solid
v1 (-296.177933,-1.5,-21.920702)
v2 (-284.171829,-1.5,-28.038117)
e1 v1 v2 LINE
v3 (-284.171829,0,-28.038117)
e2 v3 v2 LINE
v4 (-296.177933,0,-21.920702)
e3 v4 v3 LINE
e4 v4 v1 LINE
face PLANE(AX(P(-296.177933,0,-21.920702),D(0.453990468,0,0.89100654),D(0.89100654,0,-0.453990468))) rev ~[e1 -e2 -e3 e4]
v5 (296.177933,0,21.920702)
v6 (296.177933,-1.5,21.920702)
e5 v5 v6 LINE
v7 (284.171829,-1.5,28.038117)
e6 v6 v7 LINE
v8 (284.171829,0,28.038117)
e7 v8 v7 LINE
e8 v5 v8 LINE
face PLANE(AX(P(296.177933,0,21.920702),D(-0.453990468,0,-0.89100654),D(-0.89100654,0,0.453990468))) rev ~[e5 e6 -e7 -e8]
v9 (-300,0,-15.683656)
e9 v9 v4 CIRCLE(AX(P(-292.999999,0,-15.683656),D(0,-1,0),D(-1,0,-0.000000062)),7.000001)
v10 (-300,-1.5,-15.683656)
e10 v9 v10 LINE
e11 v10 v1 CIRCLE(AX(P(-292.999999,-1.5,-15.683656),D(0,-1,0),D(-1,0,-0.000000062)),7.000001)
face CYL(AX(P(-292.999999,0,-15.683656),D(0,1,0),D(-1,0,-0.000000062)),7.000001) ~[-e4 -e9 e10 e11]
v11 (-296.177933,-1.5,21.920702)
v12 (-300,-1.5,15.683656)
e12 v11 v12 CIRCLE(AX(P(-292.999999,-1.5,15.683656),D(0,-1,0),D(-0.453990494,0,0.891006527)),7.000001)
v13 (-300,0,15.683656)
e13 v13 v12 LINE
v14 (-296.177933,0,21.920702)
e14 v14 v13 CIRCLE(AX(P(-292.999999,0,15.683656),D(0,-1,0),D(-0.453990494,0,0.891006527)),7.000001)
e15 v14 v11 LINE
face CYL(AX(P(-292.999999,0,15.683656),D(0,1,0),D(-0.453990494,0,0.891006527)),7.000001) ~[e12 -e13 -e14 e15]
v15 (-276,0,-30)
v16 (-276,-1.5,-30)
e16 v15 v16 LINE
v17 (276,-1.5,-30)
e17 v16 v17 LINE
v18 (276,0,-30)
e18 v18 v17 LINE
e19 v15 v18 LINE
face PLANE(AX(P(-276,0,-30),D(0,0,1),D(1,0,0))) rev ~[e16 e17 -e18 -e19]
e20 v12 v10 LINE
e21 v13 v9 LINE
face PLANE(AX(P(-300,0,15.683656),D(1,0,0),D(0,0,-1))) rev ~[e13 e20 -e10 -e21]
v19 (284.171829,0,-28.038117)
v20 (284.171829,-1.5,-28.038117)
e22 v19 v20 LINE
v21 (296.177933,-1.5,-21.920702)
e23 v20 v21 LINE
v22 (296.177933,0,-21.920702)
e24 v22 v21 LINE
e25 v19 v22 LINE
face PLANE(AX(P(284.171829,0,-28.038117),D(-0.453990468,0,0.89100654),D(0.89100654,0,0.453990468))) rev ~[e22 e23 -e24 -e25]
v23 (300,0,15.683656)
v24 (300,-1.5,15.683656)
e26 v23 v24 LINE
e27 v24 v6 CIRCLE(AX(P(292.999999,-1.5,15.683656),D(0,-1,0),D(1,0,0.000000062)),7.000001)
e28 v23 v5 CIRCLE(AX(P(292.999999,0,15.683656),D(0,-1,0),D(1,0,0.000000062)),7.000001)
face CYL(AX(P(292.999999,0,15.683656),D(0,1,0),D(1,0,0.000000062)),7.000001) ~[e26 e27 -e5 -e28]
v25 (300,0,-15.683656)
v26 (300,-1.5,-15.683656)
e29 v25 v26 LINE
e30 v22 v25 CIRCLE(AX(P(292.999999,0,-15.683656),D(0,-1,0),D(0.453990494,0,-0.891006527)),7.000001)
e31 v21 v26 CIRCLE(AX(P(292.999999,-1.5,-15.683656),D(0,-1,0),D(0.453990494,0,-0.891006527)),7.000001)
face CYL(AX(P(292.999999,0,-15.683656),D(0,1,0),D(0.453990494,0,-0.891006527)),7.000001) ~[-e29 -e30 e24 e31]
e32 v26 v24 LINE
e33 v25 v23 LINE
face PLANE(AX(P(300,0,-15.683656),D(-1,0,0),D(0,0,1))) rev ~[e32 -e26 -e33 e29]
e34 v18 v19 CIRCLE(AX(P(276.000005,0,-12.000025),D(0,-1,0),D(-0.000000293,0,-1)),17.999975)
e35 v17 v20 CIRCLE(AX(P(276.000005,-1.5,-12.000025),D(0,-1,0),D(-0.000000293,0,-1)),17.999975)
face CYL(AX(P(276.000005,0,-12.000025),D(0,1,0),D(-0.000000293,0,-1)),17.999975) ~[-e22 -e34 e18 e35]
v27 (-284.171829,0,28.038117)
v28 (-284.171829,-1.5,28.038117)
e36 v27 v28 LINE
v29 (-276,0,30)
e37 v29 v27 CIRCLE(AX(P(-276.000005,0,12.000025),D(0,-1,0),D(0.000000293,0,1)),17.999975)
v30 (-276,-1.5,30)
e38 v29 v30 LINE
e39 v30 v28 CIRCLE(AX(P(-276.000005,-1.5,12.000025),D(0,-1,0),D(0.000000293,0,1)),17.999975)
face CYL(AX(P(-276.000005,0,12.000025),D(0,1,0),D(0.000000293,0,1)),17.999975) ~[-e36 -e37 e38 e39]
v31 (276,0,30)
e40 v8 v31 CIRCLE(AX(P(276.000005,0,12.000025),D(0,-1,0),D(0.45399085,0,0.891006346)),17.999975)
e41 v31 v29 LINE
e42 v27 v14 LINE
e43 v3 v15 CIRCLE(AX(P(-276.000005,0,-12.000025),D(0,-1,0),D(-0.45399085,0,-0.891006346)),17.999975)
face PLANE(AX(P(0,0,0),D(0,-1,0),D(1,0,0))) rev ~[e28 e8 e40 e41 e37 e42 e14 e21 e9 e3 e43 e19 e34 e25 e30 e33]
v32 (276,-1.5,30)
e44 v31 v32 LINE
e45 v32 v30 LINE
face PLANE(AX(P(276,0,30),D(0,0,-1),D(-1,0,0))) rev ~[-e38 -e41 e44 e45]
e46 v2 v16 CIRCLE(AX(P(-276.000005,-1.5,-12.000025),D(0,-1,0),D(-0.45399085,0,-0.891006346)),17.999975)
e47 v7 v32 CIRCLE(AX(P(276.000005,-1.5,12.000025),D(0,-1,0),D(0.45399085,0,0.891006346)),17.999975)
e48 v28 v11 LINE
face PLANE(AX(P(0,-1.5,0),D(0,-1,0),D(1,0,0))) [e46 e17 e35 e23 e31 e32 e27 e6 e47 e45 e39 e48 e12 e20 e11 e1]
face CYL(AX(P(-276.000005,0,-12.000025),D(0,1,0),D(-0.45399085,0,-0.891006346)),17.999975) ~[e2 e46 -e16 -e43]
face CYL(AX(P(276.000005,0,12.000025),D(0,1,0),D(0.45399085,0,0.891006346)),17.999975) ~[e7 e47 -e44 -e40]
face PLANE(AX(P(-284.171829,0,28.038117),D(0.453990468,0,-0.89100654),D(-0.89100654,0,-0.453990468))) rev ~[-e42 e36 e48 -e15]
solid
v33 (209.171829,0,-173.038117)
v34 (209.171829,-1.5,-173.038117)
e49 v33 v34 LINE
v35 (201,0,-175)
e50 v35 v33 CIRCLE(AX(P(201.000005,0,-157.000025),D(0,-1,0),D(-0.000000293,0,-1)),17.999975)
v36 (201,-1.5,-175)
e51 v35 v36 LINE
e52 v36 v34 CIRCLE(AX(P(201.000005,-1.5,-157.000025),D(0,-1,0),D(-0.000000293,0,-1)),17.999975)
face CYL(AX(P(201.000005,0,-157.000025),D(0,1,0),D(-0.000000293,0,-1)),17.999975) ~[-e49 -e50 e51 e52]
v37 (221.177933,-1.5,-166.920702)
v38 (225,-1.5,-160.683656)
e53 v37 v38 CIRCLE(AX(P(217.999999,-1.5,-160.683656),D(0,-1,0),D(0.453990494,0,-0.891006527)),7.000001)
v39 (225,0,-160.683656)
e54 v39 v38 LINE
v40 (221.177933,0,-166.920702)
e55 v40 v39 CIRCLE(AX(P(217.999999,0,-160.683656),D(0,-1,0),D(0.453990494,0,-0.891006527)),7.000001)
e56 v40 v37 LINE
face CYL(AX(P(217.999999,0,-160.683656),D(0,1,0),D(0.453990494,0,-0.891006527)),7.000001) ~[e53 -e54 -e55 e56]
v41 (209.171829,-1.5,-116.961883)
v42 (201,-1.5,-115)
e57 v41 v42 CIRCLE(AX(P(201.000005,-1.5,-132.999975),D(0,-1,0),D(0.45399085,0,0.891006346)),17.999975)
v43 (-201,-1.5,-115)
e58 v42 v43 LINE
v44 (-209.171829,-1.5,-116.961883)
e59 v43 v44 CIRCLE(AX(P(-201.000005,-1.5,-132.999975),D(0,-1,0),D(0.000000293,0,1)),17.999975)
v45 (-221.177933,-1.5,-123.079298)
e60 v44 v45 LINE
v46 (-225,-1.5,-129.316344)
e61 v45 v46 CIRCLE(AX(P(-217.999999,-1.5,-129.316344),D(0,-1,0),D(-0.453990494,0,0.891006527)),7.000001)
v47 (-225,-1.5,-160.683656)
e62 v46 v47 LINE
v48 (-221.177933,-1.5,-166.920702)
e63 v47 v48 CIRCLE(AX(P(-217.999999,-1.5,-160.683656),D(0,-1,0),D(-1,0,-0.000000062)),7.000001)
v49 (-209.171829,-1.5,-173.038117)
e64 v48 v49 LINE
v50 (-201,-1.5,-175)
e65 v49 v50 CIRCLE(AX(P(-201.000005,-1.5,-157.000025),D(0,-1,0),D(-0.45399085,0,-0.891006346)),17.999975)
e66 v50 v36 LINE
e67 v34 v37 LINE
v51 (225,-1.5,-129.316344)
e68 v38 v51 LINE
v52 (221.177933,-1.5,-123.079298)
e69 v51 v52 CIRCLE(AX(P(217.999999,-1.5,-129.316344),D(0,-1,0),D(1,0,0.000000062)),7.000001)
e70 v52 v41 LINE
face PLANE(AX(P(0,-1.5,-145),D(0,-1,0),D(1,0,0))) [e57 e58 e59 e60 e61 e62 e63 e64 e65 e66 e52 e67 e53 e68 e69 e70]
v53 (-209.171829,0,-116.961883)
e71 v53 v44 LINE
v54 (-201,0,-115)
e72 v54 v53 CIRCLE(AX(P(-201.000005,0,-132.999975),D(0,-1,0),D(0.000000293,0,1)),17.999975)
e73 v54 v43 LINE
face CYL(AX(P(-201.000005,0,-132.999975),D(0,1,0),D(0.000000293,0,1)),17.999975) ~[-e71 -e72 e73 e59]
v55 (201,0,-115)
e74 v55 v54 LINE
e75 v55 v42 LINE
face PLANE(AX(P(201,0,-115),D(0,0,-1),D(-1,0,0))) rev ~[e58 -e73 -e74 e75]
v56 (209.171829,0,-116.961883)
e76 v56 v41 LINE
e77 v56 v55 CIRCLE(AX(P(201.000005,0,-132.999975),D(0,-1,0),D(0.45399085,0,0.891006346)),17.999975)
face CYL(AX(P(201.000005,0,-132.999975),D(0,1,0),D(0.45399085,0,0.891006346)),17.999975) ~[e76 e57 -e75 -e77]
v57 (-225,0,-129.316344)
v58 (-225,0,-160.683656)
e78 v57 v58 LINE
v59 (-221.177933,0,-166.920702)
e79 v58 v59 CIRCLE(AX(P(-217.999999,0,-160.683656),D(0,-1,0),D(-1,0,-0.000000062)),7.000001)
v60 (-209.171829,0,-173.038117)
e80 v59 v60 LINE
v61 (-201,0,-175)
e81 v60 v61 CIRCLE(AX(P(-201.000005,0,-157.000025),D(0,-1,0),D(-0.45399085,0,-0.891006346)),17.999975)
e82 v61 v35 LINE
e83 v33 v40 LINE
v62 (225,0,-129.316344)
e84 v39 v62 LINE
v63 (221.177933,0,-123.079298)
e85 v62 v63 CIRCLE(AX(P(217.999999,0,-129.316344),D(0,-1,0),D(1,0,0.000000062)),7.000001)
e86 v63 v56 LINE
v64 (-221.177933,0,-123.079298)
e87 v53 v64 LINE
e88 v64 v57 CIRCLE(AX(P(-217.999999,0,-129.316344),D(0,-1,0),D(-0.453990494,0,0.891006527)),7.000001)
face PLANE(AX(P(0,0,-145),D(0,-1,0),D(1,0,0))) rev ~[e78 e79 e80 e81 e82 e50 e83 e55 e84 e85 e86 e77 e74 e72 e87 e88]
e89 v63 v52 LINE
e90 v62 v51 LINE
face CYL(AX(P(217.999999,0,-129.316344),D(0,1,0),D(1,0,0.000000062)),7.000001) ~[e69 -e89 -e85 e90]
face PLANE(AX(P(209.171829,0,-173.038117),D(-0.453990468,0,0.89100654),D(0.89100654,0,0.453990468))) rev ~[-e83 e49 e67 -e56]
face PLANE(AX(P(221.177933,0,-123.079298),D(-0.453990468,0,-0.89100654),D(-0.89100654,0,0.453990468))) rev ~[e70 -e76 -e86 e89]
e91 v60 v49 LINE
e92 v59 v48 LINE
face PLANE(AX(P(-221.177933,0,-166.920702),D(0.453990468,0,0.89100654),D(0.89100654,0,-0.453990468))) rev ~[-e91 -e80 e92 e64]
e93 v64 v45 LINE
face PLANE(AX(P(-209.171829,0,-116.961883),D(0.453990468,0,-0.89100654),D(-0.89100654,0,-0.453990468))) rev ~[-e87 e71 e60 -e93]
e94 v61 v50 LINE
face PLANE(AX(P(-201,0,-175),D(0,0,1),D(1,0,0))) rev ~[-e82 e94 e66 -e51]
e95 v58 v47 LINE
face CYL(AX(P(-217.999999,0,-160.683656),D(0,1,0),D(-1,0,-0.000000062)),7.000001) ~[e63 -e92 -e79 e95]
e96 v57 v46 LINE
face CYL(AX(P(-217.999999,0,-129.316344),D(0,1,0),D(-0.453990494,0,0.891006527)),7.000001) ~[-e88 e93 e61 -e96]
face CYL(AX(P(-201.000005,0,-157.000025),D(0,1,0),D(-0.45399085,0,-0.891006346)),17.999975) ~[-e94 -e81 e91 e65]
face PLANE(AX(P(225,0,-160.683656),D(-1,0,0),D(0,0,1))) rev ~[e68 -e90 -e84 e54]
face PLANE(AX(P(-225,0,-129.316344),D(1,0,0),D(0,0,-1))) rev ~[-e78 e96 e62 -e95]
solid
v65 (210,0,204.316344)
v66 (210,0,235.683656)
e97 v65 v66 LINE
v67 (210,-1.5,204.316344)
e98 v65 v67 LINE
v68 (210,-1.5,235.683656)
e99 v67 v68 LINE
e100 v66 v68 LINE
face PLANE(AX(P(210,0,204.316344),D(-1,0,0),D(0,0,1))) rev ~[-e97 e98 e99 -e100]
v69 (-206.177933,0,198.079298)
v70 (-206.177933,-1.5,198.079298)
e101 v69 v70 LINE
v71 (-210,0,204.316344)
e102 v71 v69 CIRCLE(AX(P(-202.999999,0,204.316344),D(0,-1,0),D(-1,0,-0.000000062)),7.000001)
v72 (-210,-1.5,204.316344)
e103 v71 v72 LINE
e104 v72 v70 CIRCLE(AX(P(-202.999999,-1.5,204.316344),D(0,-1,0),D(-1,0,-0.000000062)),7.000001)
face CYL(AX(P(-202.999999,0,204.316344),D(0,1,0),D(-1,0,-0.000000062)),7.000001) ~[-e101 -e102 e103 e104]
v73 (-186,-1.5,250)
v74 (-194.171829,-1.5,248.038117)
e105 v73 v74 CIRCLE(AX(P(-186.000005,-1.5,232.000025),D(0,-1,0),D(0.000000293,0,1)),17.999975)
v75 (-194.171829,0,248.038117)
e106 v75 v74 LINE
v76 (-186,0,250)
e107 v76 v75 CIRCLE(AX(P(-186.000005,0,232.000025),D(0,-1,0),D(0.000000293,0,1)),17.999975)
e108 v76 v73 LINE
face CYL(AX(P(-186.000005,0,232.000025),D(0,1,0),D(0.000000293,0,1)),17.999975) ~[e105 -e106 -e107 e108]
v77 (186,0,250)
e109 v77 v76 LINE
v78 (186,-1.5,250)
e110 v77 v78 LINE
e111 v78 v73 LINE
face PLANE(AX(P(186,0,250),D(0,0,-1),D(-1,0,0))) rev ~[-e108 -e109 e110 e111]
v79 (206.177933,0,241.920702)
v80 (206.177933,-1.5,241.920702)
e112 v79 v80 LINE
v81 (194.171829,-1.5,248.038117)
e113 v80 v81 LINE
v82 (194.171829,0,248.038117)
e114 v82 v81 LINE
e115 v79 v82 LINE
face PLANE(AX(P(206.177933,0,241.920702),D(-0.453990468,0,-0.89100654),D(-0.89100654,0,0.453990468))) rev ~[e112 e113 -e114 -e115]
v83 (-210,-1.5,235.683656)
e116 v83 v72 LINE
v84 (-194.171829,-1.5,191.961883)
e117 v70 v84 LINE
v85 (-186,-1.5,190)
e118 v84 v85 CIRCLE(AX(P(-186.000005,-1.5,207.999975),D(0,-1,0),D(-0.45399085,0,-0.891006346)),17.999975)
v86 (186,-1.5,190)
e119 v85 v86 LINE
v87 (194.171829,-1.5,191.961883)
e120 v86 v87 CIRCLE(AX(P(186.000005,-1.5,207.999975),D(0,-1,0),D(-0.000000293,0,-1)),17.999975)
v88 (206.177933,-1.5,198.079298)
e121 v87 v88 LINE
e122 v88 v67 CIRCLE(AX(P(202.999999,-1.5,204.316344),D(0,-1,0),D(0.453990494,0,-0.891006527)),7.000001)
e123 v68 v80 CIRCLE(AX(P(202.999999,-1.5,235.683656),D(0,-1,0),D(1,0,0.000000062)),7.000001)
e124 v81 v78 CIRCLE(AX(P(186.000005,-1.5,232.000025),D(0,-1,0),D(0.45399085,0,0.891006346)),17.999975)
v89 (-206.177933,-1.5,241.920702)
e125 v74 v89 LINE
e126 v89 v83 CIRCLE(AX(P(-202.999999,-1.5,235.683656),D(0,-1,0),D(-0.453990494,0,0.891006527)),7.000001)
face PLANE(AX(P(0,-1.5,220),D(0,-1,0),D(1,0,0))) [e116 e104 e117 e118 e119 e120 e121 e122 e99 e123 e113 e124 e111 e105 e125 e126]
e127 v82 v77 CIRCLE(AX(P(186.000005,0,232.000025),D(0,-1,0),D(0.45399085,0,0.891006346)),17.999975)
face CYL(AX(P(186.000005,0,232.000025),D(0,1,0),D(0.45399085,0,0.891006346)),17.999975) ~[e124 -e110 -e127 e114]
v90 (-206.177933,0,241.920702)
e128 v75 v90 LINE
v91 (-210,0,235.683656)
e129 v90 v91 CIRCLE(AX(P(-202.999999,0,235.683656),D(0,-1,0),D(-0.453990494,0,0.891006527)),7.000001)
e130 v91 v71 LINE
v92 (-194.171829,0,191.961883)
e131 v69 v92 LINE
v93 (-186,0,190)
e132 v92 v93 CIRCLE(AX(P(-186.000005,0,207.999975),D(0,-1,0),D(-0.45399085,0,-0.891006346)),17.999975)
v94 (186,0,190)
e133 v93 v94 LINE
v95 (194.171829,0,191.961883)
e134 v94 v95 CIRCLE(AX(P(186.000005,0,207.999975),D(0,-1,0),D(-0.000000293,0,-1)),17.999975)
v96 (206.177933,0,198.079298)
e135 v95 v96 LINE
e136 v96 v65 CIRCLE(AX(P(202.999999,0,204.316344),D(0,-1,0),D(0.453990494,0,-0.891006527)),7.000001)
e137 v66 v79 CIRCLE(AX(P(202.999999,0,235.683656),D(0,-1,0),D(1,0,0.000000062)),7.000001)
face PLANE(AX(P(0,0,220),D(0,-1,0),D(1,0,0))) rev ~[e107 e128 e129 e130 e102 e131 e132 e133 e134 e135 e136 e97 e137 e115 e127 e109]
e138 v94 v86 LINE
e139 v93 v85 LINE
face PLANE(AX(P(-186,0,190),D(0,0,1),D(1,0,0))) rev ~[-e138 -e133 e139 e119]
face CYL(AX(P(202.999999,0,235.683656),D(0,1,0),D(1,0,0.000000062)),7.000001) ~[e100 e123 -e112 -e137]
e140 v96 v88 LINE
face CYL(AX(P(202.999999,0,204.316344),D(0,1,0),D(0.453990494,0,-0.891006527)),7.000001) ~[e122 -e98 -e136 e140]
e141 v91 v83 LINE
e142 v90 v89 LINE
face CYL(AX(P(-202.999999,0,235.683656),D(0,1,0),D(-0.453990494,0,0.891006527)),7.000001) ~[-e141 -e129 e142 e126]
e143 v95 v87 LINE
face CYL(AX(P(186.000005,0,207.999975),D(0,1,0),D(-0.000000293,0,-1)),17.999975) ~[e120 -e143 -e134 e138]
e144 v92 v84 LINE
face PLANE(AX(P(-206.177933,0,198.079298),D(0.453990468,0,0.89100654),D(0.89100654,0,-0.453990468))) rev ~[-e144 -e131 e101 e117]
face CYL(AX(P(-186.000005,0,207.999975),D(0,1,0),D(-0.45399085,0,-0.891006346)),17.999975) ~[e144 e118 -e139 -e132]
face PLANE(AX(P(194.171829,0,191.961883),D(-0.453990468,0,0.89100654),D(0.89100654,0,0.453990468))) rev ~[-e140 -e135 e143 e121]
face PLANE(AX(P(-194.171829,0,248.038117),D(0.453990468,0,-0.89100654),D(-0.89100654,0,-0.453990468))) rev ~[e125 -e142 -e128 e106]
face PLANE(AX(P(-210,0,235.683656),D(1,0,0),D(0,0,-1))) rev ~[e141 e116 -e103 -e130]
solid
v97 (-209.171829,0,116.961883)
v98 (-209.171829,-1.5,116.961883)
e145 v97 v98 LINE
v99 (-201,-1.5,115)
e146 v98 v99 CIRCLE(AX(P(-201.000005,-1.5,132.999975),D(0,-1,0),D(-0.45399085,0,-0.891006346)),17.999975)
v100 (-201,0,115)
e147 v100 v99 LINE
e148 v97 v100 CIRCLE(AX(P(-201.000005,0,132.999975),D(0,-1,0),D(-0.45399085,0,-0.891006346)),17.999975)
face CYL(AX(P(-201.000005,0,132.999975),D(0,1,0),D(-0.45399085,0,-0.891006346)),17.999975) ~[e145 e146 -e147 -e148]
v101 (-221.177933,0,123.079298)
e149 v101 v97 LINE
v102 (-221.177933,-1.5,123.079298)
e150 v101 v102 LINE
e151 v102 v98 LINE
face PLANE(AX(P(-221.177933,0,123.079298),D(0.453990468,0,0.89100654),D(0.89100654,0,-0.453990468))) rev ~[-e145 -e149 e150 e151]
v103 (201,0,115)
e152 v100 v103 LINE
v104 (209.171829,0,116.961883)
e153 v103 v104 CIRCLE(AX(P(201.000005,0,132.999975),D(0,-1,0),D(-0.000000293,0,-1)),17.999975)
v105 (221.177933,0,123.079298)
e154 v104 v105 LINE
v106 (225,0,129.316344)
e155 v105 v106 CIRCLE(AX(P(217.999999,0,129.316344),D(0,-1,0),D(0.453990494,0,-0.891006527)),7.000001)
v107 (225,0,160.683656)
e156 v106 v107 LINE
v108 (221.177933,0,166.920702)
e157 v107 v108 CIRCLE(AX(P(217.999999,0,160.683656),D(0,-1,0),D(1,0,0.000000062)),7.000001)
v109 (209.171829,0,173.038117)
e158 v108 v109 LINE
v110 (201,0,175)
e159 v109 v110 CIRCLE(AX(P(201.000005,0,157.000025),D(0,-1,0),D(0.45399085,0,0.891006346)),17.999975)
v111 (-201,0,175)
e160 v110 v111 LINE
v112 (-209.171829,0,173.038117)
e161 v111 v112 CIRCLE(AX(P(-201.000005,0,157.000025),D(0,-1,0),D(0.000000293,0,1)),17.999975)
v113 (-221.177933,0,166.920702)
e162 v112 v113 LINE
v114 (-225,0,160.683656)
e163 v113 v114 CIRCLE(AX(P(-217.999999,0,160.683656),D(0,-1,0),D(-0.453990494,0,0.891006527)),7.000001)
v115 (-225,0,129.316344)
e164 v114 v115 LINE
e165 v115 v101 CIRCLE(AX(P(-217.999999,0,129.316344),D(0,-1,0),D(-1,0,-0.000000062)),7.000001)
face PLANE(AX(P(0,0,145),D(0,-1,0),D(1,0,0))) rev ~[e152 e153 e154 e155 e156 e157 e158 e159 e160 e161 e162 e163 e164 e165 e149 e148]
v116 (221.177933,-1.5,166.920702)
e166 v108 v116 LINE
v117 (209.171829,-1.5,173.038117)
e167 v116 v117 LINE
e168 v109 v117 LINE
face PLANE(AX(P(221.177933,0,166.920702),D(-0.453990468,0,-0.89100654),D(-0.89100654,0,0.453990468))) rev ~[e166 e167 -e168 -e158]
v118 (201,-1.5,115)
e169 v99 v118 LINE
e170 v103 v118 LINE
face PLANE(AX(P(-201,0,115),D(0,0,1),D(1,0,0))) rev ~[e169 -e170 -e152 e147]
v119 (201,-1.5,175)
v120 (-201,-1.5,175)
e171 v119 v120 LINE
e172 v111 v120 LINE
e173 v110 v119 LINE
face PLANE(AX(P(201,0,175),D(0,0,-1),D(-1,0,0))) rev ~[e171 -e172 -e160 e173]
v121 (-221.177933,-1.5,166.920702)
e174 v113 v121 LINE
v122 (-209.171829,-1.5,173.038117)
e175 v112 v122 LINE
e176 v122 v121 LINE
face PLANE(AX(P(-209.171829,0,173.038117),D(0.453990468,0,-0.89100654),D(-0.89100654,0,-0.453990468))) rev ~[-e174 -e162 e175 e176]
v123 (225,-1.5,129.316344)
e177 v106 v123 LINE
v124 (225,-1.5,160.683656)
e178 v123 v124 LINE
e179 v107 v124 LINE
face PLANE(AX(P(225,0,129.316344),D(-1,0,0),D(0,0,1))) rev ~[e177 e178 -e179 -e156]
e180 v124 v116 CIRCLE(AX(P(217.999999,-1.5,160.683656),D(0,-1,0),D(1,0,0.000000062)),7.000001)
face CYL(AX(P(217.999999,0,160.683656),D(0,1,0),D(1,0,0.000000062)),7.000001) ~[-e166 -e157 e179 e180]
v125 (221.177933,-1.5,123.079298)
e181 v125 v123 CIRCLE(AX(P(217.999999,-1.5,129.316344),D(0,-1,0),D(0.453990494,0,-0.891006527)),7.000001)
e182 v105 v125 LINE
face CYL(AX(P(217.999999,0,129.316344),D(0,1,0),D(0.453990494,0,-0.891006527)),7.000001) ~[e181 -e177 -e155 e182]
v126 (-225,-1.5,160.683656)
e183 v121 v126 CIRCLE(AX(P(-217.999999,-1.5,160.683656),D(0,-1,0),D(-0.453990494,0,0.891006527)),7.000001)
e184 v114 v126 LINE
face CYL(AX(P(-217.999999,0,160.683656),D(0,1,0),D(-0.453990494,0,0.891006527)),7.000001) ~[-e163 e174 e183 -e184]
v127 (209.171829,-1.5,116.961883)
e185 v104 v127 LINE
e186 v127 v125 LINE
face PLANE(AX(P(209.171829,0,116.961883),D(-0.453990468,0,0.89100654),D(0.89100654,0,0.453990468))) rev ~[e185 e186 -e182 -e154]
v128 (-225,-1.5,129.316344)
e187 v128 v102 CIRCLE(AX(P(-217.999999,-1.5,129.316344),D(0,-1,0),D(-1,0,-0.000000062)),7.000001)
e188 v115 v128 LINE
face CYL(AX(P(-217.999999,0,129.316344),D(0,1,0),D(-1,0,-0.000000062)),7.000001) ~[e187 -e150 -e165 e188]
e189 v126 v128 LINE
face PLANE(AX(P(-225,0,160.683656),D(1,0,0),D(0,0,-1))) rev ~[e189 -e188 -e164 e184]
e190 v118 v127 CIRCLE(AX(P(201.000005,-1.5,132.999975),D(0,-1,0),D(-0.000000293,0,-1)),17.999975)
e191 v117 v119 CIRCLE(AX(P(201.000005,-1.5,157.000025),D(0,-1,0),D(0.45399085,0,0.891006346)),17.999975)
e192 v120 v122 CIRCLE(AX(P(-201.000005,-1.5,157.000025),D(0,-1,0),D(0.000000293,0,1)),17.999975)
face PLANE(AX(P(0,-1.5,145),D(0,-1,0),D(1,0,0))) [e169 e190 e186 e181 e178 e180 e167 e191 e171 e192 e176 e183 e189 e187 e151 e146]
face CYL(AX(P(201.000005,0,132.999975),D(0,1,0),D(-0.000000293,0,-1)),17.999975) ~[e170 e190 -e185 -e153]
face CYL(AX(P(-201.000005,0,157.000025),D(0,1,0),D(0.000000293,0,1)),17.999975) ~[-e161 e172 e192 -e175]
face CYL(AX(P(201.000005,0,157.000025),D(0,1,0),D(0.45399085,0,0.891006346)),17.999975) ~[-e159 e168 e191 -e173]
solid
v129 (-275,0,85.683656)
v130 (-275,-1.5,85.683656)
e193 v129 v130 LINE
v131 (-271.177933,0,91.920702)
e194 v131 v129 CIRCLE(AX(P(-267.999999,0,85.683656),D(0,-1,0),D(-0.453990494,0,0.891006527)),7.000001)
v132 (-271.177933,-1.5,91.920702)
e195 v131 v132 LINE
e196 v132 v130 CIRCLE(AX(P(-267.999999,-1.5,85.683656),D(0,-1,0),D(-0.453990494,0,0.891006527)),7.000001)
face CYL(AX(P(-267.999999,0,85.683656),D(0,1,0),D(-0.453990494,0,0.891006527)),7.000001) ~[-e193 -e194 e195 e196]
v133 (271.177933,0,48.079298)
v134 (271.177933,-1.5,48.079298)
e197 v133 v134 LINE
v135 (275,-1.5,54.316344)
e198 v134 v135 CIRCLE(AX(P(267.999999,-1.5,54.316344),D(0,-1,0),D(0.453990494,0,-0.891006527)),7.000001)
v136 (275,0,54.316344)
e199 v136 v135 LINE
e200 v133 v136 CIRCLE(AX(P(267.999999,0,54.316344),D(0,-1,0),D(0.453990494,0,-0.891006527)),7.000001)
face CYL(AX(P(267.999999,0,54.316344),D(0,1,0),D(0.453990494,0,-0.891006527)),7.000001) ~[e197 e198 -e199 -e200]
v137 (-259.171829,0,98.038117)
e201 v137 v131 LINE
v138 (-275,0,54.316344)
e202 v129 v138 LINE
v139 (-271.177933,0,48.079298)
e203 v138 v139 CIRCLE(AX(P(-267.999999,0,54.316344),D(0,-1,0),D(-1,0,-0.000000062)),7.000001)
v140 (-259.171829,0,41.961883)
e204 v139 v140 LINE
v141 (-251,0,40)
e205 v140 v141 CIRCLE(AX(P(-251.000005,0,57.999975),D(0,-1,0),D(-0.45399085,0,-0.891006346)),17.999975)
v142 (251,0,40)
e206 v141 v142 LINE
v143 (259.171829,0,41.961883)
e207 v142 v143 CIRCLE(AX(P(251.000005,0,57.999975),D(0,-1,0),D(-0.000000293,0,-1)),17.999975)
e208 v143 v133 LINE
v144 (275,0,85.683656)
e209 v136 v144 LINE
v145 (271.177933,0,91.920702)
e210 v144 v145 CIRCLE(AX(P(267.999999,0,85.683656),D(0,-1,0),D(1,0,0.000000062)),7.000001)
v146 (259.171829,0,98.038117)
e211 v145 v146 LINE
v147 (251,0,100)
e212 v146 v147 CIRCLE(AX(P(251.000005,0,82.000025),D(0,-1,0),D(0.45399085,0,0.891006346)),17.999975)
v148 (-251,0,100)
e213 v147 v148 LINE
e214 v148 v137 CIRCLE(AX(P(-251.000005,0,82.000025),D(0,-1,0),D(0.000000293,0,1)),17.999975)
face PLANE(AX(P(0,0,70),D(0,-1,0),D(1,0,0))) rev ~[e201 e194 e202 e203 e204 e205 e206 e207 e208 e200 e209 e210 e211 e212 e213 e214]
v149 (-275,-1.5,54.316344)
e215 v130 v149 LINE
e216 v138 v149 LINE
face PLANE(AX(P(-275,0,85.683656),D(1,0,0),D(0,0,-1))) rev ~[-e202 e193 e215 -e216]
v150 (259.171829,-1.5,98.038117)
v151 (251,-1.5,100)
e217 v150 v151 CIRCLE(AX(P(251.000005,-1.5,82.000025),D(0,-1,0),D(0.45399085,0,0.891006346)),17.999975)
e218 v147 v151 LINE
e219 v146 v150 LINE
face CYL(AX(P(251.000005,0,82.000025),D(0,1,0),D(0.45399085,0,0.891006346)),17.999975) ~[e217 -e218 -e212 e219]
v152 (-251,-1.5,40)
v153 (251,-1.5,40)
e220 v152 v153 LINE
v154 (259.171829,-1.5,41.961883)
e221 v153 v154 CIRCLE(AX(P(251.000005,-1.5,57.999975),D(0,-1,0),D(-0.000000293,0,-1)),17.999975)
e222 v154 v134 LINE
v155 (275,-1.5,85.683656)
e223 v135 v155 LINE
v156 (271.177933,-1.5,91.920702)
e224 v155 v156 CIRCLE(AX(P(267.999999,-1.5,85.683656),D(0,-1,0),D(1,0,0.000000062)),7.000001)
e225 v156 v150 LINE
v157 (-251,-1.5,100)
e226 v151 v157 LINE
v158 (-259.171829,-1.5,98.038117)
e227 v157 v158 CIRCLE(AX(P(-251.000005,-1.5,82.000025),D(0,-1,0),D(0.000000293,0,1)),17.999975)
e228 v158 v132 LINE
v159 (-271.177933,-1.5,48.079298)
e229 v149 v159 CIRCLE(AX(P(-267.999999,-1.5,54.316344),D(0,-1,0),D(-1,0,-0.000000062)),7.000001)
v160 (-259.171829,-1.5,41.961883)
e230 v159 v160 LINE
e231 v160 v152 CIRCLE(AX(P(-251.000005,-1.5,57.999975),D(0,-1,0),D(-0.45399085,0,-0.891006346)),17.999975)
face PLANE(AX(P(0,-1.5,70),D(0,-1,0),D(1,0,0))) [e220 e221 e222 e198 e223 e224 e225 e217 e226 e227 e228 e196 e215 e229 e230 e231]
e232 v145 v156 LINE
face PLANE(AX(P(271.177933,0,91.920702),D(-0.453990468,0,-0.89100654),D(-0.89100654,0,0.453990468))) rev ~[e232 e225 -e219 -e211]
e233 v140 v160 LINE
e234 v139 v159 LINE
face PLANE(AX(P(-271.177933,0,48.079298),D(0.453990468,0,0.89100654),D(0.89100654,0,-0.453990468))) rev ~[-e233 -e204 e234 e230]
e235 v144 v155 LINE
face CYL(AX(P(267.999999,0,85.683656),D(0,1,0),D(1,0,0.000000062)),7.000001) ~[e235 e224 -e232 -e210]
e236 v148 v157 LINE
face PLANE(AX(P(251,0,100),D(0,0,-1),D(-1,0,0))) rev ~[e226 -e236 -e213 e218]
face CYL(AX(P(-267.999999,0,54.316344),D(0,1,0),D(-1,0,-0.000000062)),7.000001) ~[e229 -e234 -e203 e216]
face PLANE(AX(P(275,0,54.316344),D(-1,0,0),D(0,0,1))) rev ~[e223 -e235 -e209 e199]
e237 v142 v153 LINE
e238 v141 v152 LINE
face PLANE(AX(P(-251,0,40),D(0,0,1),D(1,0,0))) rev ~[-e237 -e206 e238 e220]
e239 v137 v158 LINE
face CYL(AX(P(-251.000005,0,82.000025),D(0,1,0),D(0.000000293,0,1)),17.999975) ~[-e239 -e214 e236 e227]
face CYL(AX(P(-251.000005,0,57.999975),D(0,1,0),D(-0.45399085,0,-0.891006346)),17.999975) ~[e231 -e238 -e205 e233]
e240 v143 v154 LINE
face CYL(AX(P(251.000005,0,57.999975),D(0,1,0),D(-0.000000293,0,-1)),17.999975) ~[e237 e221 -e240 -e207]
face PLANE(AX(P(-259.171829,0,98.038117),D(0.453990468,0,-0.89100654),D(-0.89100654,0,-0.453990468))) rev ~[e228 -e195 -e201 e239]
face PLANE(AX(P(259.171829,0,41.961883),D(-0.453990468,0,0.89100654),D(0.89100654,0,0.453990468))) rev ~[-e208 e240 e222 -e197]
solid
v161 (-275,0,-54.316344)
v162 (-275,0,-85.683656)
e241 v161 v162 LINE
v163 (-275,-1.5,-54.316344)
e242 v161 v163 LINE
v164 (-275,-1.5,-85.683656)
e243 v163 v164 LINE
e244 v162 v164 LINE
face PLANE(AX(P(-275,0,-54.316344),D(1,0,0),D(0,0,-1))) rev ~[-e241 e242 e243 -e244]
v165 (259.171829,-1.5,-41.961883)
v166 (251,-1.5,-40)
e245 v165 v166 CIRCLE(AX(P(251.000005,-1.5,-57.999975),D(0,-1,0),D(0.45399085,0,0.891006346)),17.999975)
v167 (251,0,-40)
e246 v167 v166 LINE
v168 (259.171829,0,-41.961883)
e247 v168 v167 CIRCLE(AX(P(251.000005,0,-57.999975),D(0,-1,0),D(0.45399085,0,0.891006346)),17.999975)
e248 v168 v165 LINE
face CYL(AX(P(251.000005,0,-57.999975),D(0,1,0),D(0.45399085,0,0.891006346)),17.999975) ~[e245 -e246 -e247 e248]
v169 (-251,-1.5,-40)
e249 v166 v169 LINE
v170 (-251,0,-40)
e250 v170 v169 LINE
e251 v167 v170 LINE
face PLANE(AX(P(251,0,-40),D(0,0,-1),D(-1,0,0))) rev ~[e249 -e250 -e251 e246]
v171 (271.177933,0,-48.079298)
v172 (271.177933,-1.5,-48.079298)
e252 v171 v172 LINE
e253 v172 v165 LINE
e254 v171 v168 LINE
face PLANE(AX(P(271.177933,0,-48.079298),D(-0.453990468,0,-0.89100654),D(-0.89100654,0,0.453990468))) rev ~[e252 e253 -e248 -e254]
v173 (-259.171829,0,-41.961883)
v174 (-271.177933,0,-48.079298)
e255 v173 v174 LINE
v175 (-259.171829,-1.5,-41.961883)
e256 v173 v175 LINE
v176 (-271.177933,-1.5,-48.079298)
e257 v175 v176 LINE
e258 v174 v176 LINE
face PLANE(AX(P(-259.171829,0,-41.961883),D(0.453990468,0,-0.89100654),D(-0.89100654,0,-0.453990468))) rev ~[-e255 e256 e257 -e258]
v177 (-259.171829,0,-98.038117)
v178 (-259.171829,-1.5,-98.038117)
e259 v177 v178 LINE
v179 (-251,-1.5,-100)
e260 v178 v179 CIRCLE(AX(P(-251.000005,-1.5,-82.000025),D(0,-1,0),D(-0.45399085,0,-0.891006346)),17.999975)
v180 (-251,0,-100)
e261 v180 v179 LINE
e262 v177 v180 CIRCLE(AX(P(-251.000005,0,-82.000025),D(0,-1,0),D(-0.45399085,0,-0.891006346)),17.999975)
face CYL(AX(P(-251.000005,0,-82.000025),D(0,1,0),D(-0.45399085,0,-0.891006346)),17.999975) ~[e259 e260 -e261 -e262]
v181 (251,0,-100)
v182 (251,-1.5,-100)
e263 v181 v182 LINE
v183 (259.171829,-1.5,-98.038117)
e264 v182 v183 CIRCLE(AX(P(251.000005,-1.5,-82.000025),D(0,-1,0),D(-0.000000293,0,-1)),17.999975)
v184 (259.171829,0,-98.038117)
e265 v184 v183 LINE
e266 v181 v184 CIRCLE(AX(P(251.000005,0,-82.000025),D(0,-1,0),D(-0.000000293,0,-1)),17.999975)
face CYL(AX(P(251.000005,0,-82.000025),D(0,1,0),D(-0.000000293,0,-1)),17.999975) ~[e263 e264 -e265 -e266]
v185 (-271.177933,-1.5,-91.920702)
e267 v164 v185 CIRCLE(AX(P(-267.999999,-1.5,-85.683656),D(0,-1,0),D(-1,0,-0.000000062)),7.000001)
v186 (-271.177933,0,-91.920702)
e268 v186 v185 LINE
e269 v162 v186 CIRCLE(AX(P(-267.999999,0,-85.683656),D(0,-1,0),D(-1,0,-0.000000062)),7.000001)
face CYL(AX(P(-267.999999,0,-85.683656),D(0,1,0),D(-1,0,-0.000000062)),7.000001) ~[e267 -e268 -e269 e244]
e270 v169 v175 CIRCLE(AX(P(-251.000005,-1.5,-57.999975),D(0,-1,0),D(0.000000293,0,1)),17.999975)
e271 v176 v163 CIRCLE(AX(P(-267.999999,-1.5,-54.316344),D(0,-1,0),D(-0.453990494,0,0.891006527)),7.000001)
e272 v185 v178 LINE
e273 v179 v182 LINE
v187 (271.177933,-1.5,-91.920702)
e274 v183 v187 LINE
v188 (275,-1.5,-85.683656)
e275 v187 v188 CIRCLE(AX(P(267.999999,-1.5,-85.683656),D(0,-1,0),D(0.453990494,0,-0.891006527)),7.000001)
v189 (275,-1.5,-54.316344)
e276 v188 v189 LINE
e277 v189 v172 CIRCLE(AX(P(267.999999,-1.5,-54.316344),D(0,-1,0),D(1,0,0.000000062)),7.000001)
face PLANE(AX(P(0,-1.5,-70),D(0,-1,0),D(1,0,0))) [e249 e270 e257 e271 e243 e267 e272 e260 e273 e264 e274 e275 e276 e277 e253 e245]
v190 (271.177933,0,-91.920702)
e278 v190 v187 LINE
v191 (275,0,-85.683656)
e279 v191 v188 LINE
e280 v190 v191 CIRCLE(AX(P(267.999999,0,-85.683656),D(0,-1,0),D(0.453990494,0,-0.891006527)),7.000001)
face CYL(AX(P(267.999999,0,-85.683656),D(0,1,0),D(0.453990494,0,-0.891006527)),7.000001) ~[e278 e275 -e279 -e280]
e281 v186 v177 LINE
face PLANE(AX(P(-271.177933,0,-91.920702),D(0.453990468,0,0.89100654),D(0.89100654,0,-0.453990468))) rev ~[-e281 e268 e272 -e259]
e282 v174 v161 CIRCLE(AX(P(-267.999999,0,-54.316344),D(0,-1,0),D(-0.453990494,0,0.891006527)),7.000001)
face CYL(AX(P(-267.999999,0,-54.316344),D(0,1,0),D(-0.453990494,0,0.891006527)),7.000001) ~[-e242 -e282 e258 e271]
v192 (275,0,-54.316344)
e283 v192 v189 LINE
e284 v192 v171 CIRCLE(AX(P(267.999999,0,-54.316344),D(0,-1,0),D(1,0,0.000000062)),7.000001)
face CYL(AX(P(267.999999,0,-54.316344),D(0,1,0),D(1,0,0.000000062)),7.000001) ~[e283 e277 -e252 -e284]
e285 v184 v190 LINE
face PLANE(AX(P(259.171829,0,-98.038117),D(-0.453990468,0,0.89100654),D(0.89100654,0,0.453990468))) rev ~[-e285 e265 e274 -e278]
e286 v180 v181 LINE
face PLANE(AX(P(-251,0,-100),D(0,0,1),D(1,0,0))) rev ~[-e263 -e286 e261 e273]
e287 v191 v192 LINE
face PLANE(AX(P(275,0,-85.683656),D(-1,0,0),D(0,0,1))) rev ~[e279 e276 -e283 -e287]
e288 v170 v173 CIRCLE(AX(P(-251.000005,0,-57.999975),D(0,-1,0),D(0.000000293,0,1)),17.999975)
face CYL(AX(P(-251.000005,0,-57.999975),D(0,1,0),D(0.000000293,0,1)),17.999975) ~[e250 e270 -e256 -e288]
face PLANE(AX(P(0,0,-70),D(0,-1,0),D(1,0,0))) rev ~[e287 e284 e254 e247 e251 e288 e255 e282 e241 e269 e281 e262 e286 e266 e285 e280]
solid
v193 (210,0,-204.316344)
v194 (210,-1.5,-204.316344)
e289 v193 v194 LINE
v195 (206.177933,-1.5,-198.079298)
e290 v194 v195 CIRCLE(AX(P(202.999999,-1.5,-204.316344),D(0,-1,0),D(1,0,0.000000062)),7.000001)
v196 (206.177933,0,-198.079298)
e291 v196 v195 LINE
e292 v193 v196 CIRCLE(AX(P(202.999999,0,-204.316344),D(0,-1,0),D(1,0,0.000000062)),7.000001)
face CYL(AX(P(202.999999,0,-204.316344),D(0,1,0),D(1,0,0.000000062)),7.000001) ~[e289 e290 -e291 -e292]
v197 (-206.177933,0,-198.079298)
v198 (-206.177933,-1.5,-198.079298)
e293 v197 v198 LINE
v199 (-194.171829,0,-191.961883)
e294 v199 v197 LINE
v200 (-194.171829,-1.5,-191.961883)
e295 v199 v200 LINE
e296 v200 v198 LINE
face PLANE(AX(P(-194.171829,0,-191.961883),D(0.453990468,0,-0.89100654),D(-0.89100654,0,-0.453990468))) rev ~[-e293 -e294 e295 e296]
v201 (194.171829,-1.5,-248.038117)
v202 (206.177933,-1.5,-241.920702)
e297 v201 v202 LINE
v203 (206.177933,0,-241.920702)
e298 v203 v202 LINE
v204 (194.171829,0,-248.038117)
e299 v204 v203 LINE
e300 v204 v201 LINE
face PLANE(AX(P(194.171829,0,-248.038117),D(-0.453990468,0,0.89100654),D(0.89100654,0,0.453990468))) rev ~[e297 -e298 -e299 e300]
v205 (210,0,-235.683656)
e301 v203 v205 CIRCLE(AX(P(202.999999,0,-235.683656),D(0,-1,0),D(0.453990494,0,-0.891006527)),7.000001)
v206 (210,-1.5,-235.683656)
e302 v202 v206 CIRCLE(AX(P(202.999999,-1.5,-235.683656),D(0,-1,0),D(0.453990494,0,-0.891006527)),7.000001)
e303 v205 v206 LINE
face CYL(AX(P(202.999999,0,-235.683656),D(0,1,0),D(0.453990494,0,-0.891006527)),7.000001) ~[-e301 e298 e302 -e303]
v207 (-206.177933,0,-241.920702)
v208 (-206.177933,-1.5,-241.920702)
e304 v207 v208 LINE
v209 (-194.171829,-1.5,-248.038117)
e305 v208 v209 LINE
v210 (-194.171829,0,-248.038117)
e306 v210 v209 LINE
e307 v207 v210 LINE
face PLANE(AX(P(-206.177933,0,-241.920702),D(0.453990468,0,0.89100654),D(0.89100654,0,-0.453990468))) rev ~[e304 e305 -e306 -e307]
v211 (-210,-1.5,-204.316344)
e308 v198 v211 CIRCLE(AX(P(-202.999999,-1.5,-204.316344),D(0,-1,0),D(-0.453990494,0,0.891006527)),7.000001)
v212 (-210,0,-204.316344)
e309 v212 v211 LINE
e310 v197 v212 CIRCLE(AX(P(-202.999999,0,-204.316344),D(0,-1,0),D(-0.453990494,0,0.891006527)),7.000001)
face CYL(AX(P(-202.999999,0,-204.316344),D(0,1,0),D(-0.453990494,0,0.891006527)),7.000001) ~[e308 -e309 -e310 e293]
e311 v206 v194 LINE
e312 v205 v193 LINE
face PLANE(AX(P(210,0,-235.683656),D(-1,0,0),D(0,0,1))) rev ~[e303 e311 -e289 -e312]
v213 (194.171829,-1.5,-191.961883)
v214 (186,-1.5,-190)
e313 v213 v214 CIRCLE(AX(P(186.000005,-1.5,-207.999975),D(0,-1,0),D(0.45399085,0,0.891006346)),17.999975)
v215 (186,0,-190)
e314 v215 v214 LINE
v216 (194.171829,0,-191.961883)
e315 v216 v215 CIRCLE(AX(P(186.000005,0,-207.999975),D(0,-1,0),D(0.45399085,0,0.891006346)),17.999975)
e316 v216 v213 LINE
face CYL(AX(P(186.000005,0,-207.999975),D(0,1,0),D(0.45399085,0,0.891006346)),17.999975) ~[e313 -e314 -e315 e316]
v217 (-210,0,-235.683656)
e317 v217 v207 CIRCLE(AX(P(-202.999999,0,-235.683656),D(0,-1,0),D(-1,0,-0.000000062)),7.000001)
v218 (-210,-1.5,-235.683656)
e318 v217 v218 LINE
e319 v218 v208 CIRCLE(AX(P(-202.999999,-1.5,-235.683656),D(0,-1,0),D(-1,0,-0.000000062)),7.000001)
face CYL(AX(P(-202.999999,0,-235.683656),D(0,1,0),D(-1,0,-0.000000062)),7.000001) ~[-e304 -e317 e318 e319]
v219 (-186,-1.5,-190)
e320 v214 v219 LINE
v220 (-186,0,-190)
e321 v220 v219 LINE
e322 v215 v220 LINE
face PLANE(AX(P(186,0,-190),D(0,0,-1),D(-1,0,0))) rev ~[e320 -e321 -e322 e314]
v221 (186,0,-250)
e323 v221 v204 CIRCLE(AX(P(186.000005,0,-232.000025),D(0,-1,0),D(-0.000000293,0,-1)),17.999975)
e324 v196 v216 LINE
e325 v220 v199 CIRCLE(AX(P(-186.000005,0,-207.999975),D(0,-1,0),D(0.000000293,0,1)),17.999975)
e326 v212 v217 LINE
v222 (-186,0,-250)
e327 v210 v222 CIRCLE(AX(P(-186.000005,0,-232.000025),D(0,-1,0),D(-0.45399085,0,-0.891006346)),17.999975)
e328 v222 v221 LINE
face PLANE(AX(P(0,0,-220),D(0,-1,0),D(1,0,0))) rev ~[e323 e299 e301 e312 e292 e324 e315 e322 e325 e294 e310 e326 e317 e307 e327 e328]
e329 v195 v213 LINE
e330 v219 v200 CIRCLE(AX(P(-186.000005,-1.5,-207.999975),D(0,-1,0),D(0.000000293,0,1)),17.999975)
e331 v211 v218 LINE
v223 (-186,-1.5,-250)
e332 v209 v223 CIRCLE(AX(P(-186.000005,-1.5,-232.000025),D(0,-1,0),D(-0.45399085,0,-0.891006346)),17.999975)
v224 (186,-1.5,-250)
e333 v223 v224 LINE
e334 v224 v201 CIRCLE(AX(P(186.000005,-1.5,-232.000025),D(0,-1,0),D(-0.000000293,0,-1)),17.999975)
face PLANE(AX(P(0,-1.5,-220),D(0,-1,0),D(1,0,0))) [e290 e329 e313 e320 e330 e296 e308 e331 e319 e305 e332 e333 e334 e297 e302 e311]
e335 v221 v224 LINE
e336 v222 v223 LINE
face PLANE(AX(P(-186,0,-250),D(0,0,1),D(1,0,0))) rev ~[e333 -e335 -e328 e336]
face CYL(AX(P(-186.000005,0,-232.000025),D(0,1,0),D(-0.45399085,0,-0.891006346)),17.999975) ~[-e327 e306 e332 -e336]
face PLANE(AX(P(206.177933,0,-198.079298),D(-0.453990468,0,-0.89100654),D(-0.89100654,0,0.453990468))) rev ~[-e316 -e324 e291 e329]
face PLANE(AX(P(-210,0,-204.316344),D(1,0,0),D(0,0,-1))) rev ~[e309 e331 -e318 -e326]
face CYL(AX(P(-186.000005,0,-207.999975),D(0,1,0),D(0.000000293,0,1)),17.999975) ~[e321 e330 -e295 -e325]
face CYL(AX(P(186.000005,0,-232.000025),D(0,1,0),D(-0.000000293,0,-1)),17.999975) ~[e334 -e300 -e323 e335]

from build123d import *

# Parameters (mm, degrees)
F1_DEPTH = 1.5


with BuildPart() as f1:
    # F0 (on Front) → F1 (new body)
    with BuildSketch(Plane.XZ):
        with BuildLine():
            ThreePointArc((-276, 30), (-280.202017, 29.502659), (-284.171829, 28.038117))
            Line((-284.171829, 28.038117), (-296.177933, 21.920702))
            ThreePointArc((-296.177933, 21.920702), (-298.968481, 19.341146), (-300, 15.683656))
            Line((-300, 15.683656), (-300, 0))
            Line((-300, 0), (-300, -15.683656))
            ThreePointArc((-300, -15.683656), (-298.968481, -19.341146), (-296.177933, -21.920702))
            Line((-296.177933, -21.920702), (-284.171829, -28.038117))
            ThreePointArc((-284.171829, -28.038117), (-280.202017, -29.502659), (-276, -30))
            Line((-276, -30), (0, -30))
            Line((0, -30), (276, -30))
            ThreePointArc((276, -30), (280.202017, -29.502659), (284.171829, -28.038117))
            Line((284.171829, -28.038117), (296.177933, -21.920702))
            ThreePointArc((296.177933, -21.920702), (298.968481, -19.341146), (300, -15.683656))
            Line((300, -15.683656), (300, 0))
            Line((300, 0), (300, 15.683656))
            ThreePointArc((300, 15.683656), (298.968481, 19.341146), (296.177933, 21.920702))
            Line((296.177933, 21.920702), (284.171829, 28.038117))
            ThreePointArc((284.171829, 28.038117), (280.202017, 29.502659), (276, 30))
            Line((276, 30), (0, 30))
            Line((0, 30), (-276, 30))
        make_face()
        with BuildLine():
            Line((-259.171829, 98.038117), (-271.177933, 91.920702))
            ThreePointArc((-271.177933, 91.920702), (-273.968481, 89.341146), (-275, 85.683656))
            Line((-275, 85.683656), (-275, 70))
            Line((-275, 70), (-275, 54.316344))
            ThreePointArc((-275, 54.316344), (-273.968481, 50.658854), (-271.177933, 48.079298))
            Line((-271.177933, 48.079298), (-259.171829, 41.961883))
            ThreePointArc((-259.171829, 41.961883), (-255.202017, 40.497341), (-251, 40))
            Line((-251, 40), (0, 40))
            Line((0, 40), (251, 40))
            ThreePointArc((251, 40), (255.202017, 40.497341), (259.171829, 41.961883))
            Line((259.171829, 41.961883), (271.177933, 48.079298))
            ThreePointArc((271.177933, 48.079298), (273.968481, 50.658854), (275, 54.316344))
            Line((275, 54.316344), (275, 70))
            Line((275, 70), (275, 85.683656))
            ThreePointArc((275, 85.683656), (273.968481, 89.341146), (271.177933, 91.920702))
            Line((271.177933, 91.920702), (259.171829, 98.038117))
            ThreePointArc((259.171829, 98.038117), (255.202017, 99.502659), (251, 100))
            Line((251, 100), (0, 100))
            Line((0, 100), (-251, 100))
            ThreePointArc((-251, 100), (-255.202017, 99.502659), (-259.171829, 98.038117))
        make_face()
        with BuildLine():
            ThreePointArc((-225, 129.316344), (-223.968481, 125.658854), (-221.177933, 123.079298))
            Line((-221.177933, 123.079298), (-209.171829, 116.961883))
            ThreePointArc((-209.171829, 116.961883), (-205.202017, 115.497341), (-201, 115))
            Line((-201, 115), (0, 115))
            Line((0, 115), (201, 115))
            ThreePointArc((201, 115), (205.202017, 115.497341), (209.171829, 116.961883))
            Line((209.171829, 116.961883), (221.177933, 123.079298))
            ThreePointArc((221.177933, 123.079298), (223.968481, 125.658854), (225, 129.316344))
            Line((225, 129.316344), (225, 145))
            Line((225, 145), (225, 160.683656))
            ThreePointArc((225, 160.683656), (223.968481, 164.341146), (221.177933, 166.920702))
            Line((221.177933, 166.920702), (209.171829, 173.038117))
            ThreePointArc((209.171829, 173.038117), (205.202017, 174.502659), (201, 175))
            Line((201, 175), (0, 175))
            Line((0, 175), (-201, 175))
            ThreePointArc((-201, 175), (-205.202017, 174.502659), (-209.171829, 173.038117))
            Line((-209.171829, 173.038117), (-221.177933, 166.920702))
            ThreePointArc((-221.177933, 166.920702), (-223.968481, 164.341146), (-225, 160.683656))
            Line((-225, 160.683656), (-225, 145))
            Line((-225, 145), (-225, 129.316344))
        make_face()
        with BuildLine():
            ThreePointArc((-251, -40), (-255.202017, -40.497341), (-259.171829, -41.961883))
            Line((-259.171829, -41.961883), (-271.177933, -48.079298))
            ThreePointArc((-271.177933, -48.079298), (-273.968481, -50.658854), (-275, -54.316344))
            Line((-275, -54.316344), (-275, -70))
            Line((-275, -70), (-275, -85.683656))
            ThreePointArc((-275, -85.683656), (-273.968481, -89.341146), (-271.177933, -91.920702))
            Line((-271.177933, -91.920702), (-259.171829, -98.038117))
            ThreePointArc((-259.171829, -98.038117), (-255.202017, -99.502659), (-251, -100))
            Line((-251, -100), (0, -100))
            Line((0, -100), (251, -100))
            ThreePointArc((251, -100), (255.202017, -99.502659), (259.171829, -98.038117))
            Line((259.171829, -98.038117), (271.177933, -91.920702))
            ThreePointArc((271.177933, -91.920702), (273.968481, -89.341146), (275, -85.683656))
            Line((275, -85.683656), (275, -70))
            Line((275, -70), (275, -54.316344))
            ThreePointArc((275, -54.316344), (273.968481, -50.658854), (271.177933, -48.079298))
            Line((271.177933, -48.079298), (259.171829, -41.961883))
            ThreePointArc((259.171829, -41.961883), (255.202017, -40.497341), (251, -40))
            Line((251, -40), (0, -40))
            Line((0, -40), (-251, -40))
        make_face()
        with BuildLine():
            ThreePointArc((-201, -115), (-205.202017, -115.497341), (-209.171829, -116.961883))
            Line((-209.171829, -116.961883), (-221.177933, -123.079298))
            ThreePointArc((-221.177933, -123.079298), (-223.968481, -125.658854), (-225, -129.316344))
            Line((-225, -129.316344), (-225, -145))
            Line((-225, -145), (-225, -160.683656))
            ThreePointArc((-225, -160.683656), (-223.968481, -164.341146), (-221.177933, -166.920702))
            Line((-221.177933, -166.920702), (-209.171829, -173.038117))
            ThreePointArc((-209.171829, -173.038117), (-205.202017, -174.502659), (-201, -175))
            Line((-201, -175), (0, -175))
            Line((0, -175), (201, -175))
            ThreePointArc((201, -175), (205.202017, -174.502659), (209.171829, -173.038117))
            Line((209.171829, -173.038117), (221.177933, -166.920702))
            ThreePointArc((221.177933, -166.920702), (223.968481, -164.341146), (225, -160.683656))
            Line((225, -160.683656), (225, -145))
            Line((225, -145), (225, -129.316344))
            ThreePointArc((225, -129.316344), (223.968481, -125.658854), (221.177933, -123.079298))
            Line((221.177933, -123.079298), (209.171829, -116.961883))
            ThreePointArc((209.171829, -116.961883), (205.202017, -115.497341), (201, -115))
            Line((201, -115), (0, -115))
            Line((0, -115), (-201, -115))
        make_face()
        with BuildLine():
            ThreePointArc((-186, -190), (-190.202017, -190.497341), (-194.171829, -191.961883))
            Line((-194.171829, -191.961883), (-206.177933, -198.079298))
            ThreePointArc((-206.177933, -198.079298), (-208.968481, -200.658854), (-210, -204.316344))
            Line((-210, -204.316344), (-210, -220))
            Line((-210, -220), (-210, -235.683656))
            ThreePointArc((-210, -235.683656), (-208.968481, -239.341146), (-206.177933, -241.920702))
            Line((-206.177933, -241.920702), (-194.171829, -248.038117))
            ThreePointArc((-194.171829, -248.038117), (-190.202017, -249.502659), (-186, -250))
            Line((-186, -250), (0, -250))
            Line((0, -250), (186, -250))
            ThreePointArc((186, -250), (190.202017, -249.502659), (194.171829, -248.038117))
            Line((194.171829, -248.038117), (206.177933, -241.920702))
            ThreePointArc((206.177933, -241.920702), (208.968481, -239.341146), (210, -235.683656))
            Line((210, -235.683656), (210, -220))
            Line((210, -220), (210, -204.316344))
            ThreePointArc((210, -204.316344), (208.968481, -200.658854), (206.177933, -198.079298))
            Line((206.177933, -198.079298), (194.171829, -191.961883))
            ThreePointArc((194.171829, -191.961883), (190.202017, -190.497341), (186, -190))
            Line((186, -190), (0, -190))
            Line((0, -190), (-186, -190))
        make_face()
        with BuildLine():
            Line((-210, 220), (-210, 204.316344))
            ThreePointArc((-210, 204.316344), (-208.968481, 200.658854), (-206.177933, 198.079298))
            Line((-206.177933, 198.079298), (-194.171829, 191.961883))
            ThreePointArc((-194.171829, 191.961883), (-190.202017, 190.497341), (-186, 190))
            Line((-186, 190), (0, 190))
            Line((0, 190), (186, 190))
            ThreePointArc((186, 190), (190.202017, 190.497341), (194.171829, 191.961883))
            Line((194.171829, 191.961883), (206.177933, 198.079298))
            ThreePointArc((206.177933, 198.079298), (208.968481, 200.658854), (210, 204.316344))
            Line((210, 204.316344), (210, 220))
            Line((210, 220), (210, 235.683656))
            ThreePointArc((210, 235.683656), (208.968481, 239.341146), (206.177933, 241.920702))
            Line((206.177933, 241.920702), (194.171829, 248.038117))
            ThreePointArc((194.171829, 248.038117), (190.202017, 249.502659), (186, 250))
            Line((186, 250), (0, 250))
            Line((0, 250), (-186, 250))
            ThreePointArc((-186, 250), (-190.202017, 249.502659), (-194.171829, 248.038117))
            Line((-194.171829, 248.038117), (-206.177933, 241.920702))
            ThreePointArc((-206.177933, 241.920702), (-208.968481, 239.341146), (-210, 235.683656))
            Line((-210, 235.683656), (-210, 220))
        make_face()
    extrude(amount=F1_DEPTH)


solid = f1.part
